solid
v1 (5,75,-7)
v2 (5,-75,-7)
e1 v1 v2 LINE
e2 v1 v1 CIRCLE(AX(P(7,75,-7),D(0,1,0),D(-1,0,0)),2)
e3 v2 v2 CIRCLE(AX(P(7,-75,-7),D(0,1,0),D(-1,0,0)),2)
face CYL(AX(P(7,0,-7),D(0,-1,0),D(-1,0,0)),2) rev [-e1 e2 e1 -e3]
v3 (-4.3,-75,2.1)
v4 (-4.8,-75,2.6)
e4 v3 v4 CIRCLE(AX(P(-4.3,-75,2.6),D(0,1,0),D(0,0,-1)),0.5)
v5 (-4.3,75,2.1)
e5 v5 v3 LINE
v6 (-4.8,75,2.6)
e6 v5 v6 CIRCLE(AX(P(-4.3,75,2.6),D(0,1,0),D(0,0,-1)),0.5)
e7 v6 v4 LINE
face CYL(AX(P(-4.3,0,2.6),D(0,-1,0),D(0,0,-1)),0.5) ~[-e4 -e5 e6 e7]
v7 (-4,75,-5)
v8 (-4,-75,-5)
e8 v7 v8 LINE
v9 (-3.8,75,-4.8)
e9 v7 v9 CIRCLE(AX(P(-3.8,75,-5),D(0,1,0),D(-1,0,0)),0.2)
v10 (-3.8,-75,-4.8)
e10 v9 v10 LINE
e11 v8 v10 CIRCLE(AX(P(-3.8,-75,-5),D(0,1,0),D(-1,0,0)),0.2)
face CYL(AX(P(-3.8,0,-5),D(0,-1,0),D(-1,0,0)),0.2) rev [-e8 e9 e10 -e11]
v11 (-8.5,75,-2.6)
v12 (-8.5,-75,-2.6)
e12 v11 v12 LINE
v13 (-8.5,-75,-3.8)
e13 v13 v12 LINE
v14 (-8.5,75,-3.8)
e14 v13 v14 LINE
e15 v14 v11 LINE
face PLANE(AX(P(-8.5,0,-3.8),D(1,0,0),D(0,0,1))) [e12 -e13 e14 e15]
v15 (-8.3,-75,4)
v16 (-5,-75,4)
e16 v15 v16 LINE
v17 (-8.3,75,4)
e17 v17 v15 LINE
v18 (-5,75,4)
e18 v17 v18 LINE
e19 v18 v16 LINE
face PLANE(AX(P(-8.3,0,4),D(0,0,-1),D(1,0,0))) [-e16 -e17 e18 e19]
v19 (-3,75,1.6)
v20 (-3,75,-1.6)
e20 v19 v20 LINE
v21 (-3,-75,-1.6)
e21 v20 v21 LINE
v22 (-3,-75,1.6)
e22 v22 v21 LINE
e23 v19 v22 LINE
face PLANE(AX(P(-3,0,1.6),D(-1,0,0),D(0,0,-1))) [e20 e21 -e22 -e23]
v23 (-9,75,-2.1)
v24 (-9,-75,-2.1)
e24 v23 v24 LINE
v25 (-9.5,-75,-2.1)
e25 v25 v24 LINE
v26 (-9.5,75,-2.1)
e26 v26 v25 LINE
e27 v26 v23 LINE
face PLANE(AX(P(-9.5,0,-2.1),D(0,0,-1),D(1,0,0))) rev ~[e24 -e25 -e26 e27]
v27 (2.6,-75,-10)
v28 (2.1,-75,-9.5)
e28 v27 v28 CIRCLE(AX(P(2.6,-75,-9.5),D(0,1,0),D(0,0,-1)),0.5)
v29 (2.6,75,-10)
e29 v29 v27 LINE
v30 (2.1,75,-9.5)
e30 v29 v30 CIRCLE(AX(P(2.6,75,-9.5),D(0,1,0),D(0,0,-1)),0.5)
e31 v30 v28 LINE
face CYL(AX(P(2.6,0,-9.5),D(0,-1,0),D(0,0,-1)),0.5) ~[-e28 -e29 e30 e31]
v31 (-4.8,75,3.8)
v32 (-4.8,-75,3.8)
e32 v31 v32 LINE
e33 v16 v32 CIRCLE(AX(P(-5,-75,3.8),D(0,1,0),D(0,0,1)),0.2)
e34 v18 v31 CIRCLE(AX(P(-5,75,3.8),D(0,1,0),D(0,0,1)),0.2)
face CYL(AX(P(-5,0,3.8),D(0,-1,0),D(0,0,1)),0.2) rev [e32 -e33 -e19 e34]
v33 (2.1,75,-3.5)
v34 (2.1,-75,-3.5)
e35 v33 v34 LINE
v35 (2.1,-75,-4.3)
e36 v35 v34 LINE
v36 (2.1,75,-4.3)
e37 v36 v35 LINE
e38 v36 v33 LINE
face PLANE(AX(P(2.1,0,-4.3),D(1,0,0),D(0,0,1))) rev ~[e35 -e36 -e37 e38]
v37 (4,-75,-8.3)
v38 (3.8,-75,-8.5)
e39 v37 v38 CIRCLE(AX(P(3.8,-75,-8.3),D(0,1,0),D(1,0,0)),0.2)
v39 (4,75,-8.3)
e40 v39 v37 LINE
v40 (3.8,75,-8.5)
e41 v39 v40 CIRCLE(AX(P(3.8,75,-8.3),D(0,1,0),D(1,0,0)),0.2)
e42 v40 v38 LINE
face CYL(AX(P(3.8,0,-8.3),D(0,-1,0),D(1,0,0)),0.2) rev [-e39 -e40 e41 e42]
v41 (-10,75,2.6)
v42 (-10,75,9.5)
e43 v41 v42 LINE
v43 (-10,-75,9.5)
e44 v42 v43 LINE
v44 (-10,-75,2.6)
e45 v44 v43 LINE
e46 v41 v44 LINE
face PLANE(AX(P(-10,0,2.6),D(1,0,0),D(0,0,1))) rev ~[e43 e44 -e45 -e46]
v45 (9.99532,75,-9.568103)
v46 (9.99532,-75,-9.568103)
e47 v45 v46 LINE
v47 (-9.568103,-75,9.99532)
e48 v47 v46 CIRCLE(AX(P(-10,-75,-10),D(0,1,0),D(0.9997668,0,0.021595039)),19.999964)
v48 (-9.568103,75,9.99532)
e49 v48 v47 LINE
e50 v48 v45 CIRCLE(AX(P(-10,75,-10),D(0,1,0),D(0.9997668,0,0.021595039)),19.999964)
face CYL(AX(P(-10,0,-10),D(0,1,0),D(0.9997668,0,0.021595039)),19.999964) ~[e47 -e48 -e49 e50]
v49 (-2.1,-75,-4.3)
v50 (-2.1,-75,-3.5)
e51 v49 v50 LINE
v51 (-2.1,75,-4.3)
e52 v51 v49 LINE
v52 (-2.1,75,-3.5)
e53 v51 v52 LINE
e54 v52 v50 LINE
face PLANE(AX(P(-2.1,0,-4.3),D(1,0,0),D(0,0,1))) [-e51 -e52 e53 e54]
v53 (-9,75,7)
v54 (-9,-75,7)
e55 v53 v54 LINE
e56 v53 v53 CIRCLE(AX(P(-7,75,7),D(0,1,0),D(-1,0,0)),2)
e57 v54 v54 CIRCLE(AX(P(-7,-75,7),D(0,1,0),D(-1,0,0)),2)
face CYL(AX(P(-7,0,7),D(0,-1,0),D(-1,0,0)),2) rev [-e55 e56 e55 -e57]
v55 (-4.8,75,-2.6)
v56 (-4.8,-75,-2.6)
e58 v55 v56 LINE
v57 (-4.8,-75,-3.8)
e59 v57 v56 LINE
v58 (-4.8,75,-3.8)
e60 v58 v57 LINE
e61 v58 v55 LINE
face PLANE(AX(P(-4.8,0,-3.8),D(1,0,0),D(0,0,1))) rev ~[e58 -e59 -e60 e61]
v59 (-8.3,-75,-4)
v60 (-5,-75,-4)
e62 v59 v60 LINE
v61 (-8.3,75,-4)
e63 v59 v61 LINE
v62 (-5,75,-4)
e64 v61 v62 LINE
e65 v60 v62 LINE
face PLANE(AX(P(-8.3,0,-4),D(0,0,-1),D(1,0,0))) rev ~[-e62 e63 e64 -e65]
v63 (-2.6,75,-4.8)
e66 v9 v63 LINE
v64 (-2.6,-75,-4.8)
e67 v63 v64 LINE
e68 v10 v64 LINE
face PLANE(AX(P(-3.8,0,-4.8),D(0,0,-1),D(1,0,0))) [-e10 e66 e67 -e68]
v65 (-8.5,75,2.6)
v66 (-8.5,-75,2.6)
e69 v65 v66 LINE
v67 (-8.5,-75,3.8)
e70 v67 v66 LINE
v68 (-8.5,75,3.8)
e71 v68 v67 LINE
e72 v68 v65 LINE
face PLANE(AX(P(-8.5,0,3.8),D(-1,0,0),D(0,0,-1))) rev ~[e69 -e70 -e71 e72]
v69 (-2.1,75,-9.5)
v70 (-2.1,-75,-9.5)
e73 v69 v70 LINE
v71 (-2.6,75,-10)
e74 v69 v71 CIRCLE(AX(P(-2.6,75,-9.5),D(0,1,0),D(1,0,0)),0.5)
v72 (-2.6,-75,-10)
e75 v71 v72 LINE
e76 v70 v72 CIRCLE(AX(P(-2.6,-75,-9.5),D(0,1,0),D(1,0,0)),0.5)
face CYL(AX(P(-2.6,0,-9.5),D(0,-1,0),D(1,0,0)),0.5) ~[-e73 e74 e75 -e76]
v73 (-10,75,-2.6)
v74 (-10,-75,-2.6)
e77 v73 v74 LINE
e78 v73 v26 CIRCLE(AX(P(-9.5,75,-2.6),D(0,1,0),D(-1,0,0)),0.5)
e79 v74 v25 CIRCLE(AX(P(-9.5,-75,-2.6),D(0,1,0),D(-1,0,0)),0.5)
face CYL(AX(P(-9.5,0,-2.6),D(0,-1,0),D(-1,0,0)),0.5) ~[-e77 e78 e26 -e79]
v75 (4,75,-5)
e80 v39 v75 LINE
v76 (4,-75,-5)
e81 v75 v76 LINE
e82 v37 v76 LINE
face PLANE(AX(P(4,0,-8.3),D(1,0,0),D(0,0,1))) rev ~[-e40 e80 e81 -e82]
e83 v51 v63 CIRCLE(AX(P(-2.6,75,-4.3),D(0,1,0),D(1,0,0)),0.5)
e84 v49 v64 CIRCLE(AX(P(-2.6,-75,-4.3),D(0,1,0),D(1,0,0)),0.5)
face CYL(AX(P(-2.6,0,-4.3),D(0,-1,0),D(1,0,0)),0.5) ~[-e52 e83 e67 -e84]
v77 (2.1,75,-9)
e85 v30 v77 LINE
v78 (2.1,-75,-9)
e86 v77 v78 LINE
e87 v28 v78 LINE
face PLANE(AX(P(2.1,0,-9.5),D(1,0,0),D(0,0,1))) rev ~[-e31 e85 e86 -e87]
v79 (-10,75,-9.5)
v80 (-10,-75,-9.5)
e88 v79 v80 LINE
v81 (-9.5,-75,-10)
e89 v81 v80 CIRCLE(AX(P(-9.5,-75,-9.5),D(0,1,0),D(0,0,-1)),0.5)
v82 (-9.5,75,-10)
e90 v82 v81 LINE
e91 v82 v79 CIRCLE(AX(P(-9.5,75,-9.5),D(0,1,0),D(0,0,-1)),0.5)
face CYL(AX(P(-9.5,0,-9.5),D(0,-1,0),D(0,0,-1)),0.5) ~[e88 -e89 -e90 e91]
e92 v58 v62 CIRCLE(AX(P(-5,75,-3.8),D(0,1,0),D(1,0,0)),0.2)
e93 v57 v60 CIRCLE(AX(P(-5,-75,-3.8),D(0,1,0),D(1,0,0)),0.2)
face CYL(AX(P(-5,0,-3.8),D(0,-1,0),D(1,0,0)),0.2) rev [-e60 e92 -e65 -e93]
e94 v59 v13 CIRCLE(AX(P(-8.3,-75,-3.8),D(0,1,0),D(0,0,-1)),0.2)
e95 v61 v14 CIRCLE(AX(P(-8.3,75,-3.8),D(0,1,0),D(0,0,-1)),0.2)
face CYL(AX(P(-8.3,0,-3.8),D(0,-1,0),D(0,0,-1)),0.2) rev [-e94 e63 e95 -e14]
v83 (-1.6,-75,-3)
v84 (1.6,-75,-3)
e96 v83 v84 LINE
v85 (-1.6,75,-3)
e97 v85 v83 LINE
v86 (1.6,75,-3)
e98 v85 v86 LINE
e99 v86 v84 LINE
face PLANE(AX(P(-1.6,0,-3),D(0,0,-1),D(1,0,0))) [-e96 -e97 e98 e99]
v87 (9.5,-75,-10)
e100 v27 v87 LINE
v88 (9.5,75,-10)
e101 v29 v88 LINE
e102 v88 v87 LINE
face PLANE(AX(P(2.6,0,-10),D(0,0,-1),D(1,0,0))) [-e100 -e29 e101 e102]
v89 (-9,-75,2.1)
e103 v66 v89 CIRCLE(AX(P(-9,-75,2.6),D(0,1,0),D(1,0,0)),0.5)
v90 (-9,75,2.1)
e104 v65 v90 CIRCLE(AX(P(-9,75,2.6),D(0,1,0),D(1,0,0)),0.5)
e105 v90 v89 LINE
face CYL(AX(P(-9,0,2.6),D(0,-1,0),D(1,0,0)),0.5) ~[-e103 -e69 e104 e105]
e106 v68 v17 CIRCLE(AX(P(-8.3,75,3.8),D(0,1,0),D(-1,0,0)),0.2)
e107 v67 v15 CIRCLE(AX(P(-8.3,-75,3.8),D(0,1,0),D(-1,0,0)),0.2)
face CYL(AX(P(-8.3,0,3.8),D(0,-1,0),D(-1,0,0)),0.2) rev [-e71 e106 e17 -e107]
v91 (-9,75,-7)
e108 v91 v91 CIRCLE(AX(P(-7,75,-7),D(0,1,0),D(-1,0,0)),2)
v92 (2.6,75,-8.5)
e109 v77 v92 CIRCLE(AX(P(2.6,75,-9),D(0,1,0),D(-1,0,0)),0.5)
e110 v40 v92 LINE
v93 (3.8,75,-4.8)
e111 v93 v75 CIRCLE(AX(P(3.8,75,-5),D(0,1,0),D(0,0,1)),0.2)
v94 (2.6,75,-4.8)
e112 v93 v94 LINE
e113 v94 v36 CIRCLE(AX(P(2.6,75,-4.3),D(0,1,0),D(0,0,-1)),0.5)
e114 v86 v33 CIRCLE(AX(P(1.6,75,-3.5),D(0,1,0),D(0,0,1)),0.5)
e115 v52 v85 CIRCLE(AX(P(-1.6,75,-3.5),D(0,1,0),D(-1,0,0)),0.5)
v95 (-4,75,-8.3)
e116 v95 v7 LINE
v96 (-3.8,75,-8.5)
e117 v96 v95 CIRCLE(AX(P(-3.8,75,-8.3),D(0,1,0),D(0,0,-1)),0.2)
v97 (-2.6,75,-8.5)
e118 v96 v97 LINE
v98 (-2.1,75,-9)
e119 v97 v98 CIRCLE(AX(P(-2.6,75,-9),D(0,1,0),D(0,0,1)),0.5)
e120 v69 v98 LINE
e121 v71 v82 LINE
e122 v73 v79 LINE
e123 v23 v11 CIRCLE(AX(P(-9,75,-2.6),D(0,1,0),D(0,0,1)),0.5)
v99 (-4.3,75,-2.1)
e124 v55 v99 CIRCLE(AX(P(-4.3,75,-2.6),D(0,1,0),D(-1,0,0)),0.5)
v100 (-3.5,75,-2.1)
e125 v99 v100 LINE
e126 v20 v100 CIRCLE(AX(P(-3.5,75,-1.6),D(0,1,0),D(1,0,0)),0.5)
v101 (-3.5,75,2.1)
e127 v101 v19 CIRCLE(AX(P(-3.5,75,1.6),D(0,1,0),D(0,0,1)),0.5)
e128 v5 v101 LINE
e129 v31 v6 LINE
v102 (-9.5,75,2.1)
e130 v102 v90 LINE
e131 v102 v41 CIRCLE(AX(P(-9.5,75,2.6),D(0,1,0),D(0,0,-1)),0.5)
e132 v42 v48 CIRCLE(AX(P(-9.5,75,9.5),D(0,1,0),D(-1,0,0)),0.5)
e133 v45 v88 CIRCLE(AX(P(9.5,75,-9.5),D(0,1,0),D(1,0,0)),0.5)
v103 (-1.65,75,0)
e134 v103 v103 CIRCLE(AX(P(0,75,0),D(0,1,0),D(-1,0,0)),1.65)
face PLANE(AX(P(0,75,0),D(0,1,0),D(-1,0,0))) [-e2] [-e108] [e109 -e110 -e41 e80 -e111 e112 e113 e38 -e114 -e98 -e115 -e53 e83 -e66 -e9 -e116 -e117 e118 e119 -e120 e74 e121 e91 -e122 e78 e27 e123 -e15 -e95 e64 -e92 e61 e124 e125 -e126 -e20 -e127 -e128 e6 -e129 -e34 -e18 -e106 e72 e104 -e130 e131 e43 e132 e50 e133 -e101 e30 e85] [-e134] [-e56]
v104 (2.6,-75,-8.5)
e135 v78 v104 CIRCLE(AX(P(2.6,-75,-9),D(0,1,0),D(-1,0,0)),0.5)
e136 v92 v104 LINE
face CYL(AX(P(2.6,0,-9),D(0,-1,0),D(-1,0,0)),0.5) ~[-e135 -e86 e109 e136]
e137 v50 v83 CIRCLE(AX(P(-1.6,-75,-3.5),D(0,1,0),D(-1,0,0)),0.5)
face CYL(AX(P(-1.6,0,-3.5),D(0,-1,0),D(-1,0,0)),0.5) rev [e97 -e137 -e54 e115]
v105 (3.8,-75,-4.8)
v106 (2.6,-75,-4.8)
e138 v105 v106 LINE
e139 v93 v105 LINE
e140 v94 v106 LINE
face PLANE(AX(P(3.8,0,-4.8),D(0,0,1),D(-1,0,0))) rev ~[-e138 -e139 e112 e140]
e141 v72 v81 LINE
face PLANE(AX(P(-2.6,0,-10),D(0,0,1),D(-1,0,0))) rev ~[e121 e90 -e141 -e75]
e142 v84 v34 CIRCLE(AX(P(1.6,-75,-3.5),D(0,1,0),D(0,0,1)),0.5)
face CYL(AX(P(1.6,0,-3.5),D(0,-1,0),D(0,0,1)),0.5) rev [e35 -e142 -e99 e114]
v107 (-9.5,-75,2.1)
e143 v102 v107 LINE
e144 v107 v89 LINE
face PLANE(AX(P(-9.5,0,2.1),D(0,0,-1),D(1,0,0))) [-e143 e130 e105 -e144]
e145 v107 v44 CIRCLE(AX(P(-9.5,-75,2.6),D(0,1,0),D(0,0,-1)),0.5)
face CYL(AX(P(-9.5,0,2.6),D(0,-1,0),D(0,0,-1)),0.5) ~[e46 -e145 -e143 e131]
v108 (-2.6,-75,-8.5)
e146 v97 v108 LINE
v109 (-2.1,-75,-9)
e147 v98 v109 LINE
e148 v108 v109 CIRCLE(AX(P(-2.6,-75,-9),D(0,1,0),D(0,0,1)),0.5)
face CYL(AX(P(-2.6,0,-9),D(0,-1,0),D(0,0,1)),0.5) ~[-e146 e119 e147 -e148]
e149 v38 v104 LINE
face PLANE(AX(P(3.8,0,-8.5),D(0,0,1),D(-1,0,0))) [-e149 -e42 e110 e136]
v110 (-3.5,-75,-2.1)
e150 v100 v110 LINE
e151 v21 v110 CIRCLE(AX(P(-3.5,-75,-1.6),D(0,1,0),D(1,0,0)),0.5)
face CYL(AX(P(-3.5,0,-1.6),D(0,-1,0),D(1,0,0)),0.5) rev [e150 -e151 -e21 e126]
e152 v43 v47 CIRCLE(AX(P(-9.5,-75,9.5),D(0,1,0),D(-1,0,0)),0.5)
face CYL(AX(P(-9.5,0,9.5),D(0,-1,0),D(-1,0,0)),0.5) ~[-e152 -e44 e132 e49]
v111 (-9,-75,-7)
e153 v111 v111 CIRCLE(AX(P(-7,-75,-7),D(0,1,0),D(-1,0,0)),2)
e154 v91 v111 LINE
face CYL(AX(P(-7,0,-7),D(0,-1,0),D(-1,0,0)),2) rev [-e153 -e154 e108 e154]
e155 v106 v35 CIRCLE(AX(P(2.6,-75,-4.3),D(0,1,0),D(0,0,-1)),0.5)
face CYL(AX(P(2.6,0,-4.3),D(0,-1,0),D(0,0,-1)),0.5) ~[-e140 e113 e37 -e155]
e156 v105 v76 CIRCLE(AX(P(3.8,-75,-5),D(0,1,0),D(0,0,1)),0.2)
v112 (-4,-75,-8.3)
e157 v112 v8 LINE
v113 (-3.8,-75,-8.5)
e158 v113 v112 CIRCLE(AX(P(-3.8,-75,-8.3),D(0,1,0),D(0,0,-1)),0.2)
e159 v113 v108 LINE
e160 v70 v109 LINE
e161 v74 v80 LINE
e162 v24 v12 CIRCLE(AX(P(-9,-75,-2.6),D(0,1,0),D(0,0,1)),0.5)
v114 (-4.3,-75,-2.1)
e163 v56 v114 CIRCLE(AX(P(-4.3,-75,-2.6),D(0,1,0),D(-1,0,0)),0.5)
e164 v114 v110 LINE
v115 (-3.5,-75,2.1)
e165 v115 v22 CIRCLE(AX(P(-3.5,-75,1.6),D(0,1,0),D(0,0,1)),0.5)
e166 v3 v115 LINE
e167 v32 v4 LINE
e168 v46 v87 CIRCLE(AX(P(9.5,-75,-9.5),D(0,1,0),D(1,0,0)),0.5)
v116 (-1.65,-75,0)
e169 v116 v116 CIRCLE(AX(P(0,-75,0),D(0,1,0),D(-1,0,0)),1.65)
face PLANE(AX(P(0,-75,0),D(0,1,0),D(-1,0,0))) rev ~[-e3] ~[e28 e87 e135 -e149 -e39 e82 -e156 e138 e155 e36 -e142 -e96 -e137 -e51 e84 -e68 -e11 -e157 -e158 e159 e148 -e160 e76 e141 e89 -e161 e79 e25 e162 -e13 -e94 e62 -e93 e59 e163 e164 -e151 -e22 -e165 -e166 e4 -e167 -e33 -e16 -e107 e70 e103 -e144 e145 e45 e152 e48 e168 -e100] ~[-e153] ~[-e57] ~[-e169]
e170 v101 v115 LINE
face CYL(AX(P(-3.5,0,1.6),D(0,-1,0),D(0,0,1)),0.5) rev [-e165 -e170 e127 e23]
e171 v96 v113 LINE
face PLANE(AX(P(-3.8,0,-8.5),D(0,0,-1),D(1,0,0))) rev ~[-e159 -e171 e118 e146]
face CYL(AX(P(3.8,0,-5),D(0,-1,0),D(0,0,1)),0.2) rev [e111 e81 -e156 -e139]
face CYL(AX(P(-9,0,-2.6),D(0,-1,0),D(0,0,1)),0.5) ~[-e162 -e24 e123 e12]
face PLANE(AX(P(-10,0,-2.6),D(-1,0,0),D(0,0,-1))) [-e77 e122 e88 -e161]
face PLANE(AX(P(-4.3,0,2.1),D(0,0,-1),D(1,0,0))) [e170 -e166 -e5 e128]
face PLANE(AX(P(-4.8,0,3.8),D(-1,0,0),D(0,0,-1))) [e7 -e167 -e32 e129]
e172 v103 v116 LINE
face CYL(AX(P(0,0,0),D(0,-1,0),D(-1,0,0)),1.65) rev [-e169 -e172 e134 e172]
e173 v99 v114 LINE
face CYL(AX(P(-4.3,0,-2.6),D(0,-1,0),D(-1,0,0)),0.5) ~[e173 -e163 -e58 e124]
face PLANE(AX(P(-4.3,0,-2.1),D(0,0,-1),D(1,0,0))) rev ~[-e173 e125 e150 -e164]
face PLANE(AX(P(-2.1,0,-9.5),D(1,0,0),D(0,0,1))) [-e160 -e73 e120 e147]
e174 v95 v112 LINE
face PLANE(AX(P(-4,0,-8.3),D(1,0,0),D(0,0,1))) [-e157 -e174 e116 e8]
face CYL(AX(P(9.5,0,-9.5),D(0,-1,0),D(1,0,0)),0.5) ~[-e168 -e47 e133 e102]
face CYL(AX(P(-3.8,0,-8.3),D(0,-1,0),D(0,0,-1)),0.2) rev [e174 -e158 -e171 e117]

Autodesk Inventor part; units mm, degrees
ref_plane "YZ Plane" through (0, 0, 0) normal (1, 0, 0) x (0, 1, 0)
ref_plane "XZ Plane" through (0, 0, 0) normal (0, 1, 0) x (-1, 0, 0)
ref_plane "XY Plane" through (0, 0, 0) normal (0, 0, 1) x (1, 0, 0)
sketch "スケッチ" plane through (0, 0, 0) normal (0, 1, 0) x (-1, 0, 0)
  line L0 (8.5, -3.8) -> (8.5, -2.6)
  line L1 (4, -8.3) -> (4, -5)
  circle A0 centre (7, -7) radius 2
  line L2 (10, -2.6) -> (10, -9.5)
  line L3 (2.6, -10) -> (9.5, -10)
  line L4 (2.1, -9.5) -> (2.1, -9)
  line L5 (8.5, -2.1) -> (8.5, -4)
  line L6 (3.8, -4.8) -> (2.6, -4.8)
  line L7 (4.8, -3.8) -> (4.8, -2.6)
  arc A1 (2.1, -4.3) -> (2.6, -4.8) centre (2.6, -4.3) ccw
  arc A2 (2.6, -8.5) -> (2.1, -9) centre (2.6, -9) ccw
  arc A3 (3.8, -8.5) -> (4, -8.3) centre (3.8, -8.3) ccw
  arc A4 (4, -5) -> (3.8, -4.8) centre (3.8, -5) ccw
  arc A5 (2.1, -3.5) -> (1.6, -3) centre (1.6, -3.5) ccw
  arc A6 (2.1, -9.5) -> (2.6, -10) centre (2.6, -9.5) ccw
  arc A7 (9.5, -10) -> (10, -9.5) centre (9.5, -9.5) ccw
  arc A8 (10, -2.6) -> (9.5, -2.1) centre (9.5, -2.6) ccw
  arc A9 (9, -2.1) -> (8.5, -2.6) centre (9, -2.6) ccw
  arc A10 (8.3, -4) -> (8.5, -3.8) centre (8.3, -3.8) ccw
  arc A11 (4.8, -3.8) -> (5, -4) centre (5, -3.8) ccw
  line L8 (4.3, -2.1) -> (3.5, -2.1)
  arc A12 (4.8, -2.6) -> (4.3, -2.1) centre (4.3, -2.6) ccw
  arc A13 (3, -1.6) -> (3.5, -2.1) centre (3.5, -1.6) ccw
  line L9 (2.1, -4.3) -> (2.1, -3.5)
  line L10 (3.8, -8.5) -> (2.6, -8.5)
  line L11 (9.5, -2.1) -> (9, -2.1)
  line L12 (8.3, -4) -> (5, -4)
  circle A14 centre (0, 0) radius 1.65
  arc A15 (8.5, 2.6) -> (9, 2.1) centre (9, 2.6) ccw
  line L13 (8.5, 3.8) -> (8.5, 2.6)
  arc A16 (8.5, 3.8) -> (8.3, 4) centre (8.3, 3.8) ccw
  line L14 (8.3, 4) -> (5, 4)
  line L15 (10, 2.6) -> (10, 9.5)
  arc A17 (10, 9.5) -> (9.5, 10) centre (9.5, 9.5) ccw
  circle A18 centre (7, 7) radius 2
  line L16 (4, 8.3) -> (4, 5)
  line L17 (2.6, 10) -> (9.5, 10)
  line L18 (9.5, 2.1) -> (9, 2.1)
  arc A19 (9.5, 2.1) -> (10, 2.6) centre (9.5, 2.6) ccw
  line L19 (3.8, 8.5) -> (2.6, 8.5)
  line L20 (4.8, 3.8) -> (4.8, 2.6)
  arc A20 (4.3, 2.1) -> (4.8, 2.6) centre (4.3, 2.6) ccw
  line L21 (2.1, 8.5) -> (4, 8.5)
  arc A21 (4, 8.3) -> (3.8, 8.5) centre (3.8, 8.3) ccw
  arc A22 (2.1, 9) -> (2.6, 8.5) centre (2.6, 9) ccw
  arc A23 (2.6, 10) -> (2.1, 9.5) centre (2.6, 9.5) ccw
  line L22 (2.1, 9.5) -> (2.1, 9)
  arc A24 (1.6, 3) -> (2.1, 3.5) centre (1.6, 3.5) ccw
  line L23 (3.8, 4.8) -> (2.6, 4.8)
  arc A25 (5, 4) -> (4.8, 3.8) centre (5, 3.8) ccw
  arc A26 (3.8, 4.8) -> (4, 5) centre (3.8, 5) ccw
  line L24 (4.3, 2.1) -> (3.5, 2.1)
  arc A27 (2.6, 4.8) -> (2.1, 4.3) centre (2.6, 4.3) ccw
  line L25 (2.1, 4.3) -> (2.1, 3.5)
  arc A28 (3.5, 2.1) -> (3, 1.6) centre (3.5, 1.6) ccw
  arc A29 (-2.6, 8.5) -> (-2.1, 9) centre (-2.6, 9) ccw
  line L26 (-3.8, 8.5) -> (-2.6, 8.5)
  arc A30 (-3.8, 8.5) -> (-4, 8.3) centre (-3.8, 8.3) ccw
  line L27 (-4, 8.3) -> (-4, 5)
  line L28 (-2.6, 10) -> (-9.5, 10)
  arc A31 (-9.5, 10) -> (-10, 9.5) centre (-9.5, 9.5) ccw
  circle A32 centre (-7, 7) radius 2
  line L29 (-8.3, 4) -> (-5, 4)
  line L30 (-10, 2.6) -> (-10, 9.5)
  line L31 (-2.1, 9.5) -> (-2.1, 9)
  arc A33 (-2.1, 9.5) -> (-2.6, 10) centre (-2.6, 9.5) ccw
  line L32 (-8.5, 3.8) -> (-8.5, 2.6)
  line L33 (-3.8, 4.8) -> (-2.6, 4.8)
  arc A34 (-2.1, 4.3) -> (-2.6, 4.8) centre (-2.6, 4.3) ccw
  line L34 (-8.5, 2.1) -> (-8.5, 4)
  arc A35 (-8.3, 4) -> (-8.5, 3.8) centre (-8.3, 3.8) ccw
  arc A36 (-9, 2.1) -> (-8.5, 2.6) centre (-9, 2.6) ccw
  arc A37 (-10, 2.6) -> (-9.5, 2.1) centre (-9.5, 2.6) ccw
  line L35 (-9.5, 2.1) -> (-9, 2.1)
  arc A38 (-3, 1.6) -> (-3.5, 2.1) centre (-3.5, 1.6) ccw
  line L36 (-4.8, 3.8) -> (-4.8, 2.6)
  arc A39 (-4, 5) -> (-3.8, 4.8) centre (-3.8, 5) ccw
  arc A40 (-4.8, 3.8) -> (-5, 4) centre (-5, 3.8) ccw
  line L37 (-2.1, 4.3) -> (-2.1, 3.5)
  arc A41 (-4.8, 2.6) -> (-4.3, 2.1) centre (-4.3, 2.6) ccw
  line L38 (-4.3, 2.1) -> (-3.5, 2.1)
  arc A42 (-2.1, 3.5) -> (-1.6, 3) centre (-1.6, 3.5) ccw
  arc A43 (-8.5, -2.6) -> (-9, -2.1) centre (-9, -2.6) ccw
  line L39 (-8.5, -3.8) -> (-8.5, -2.6)
  arc A44 (-8.5, -3.8) -> (-8.3, -4) centre (-8.3, -3.8) ccw
  line L40 (-8.3, -4) -> (-5, -4)
  line L41 (-10, -2.6) -> (-10, -9.5)
  arc A45 (-10, -9.5) -> (-9.5, -10) centre (-9.5, -9.5) ccw
  circle A46 centre (-7, -7) radius 2
  line L42 (-4, -8.3) -> (-4, -5)
  line L43 (-2.6, -10) -> (-9.5, -10)
  line L44 (-9.5, -2.1) -> (-9, -2.1)
  arc A47 (-9.5, -2.1) -> (-10, -2.6) centre (-9.5, -2.6) ccw
  line L45 (-3.8, -8.5) -> (-2.6, -8.5)
  line L46 (-4.8, -3.8) -> (-4.8, -2.6)
  arc A48 (-4.3, -2.1) -> (-4.8, -2.6) centre (-4.3, -2.6) ccw
  line L47 (-2.1, -8.5) -> (-4, -8.5)
  arc A49 (-4, -8.3) -> (-3.8, -8.5) centre (-3.8, -8.3) ccw
  arc A50 (-2.1, -9) -> (-2.6, -8.5) centre (-2.6, -9) ccw
  arc A51 (-2.6, -10) -> (-2.1, -9.5) centre (-2.6, -9.5) ccw
  line L48 (-2.1, -9.5) -> (-2.1, -9)
  arc A52 (-1.6, -3) -> (-2.1, -3.5) centre (-1.6, -3.5) ccw
  line L49 (-3.8, -4.8) -> (-2.6, -4.8)
  arc A53 (-5, -4) -> (-4.8, -3.8) centre (-5, -3.8) ccw
  arc A54 (-3.8, -4.8) -> (-4, -5) centre (-3.8, -5) ccw
  line L50 (-4.3, -2.1) -> (-3.5, -2.1)
  arc A55 (-2.6, -4.8) -> (-2.1, -4.3) centre (-2.6, -4.3) ccw
  line L51 (-2.1, -4.3) -> (-2.1, -3.5)
  arc A56 (-3.5, -2.1) -> (-3, -1.6) centre (-3.5, -1.6) ccw
  line L52 (1.6, -3) -> (-1.6, -3)
  line L53 (-3, -1.6) -> (-3, 1.6)
  line L54 (-1.6, 3) -> (1.6, 3)
  line L55 (3, 1.6) -> (3, -1.6)
  point P0 (2.1, -10)
  point P1 (10, 2.1)
  point P2 (-2.1, 10)
  point P3 (-10, -2.1)
  dimension "d12" = 4
  dimension "d14" = 3.7
  dimension "d16" = 0.5
  dimension "d17" = 0.5
  dimension "d18" = 0.2
  dimension "d19" = 0.5
  dimension "d20" = 0.5
  dimension "d24" = 0.5
  dimension "d25" = 0.2
  dimension "d28" = 0.5
  dimension "d31" = 1.5
  dimension "d36" = 3.7
  dimension "d37" = 1.5
  dimension "d58" = 3.3
  dimension "d65" = 10
  dimension "d67" = 2.1
  dimension "d68" = 2.1
  dimension "d69" = 1.9
  dimension "d70" = 7
  dimension "d72" = 2.1
  dimension "d73" = 2.1
  dimension "d74" = 1.9
  dimension "d75" = 7
  dimension "d76" = 10
  dimension "d80" = 360
  dimension "d82" = 3
extrude "ボディ" add sketch "スケッチ" along normal mid plane 150
sketch "スケッチ4" plane through (0, 0, 0) normal (0, 1, 0) x (-1, 0, 0)
  line L0 (0, 0) -> (10, 0)
ref_plane "作業平面4" through (0, 0, 0) normal (0, 0, -1) x (-1, 0, 0)
sketch "スケッチ5" plane through (0, 0, 0) normal (0, 0, -1) x (-1, 0, 0)
  line L0 (-2, 0) -> (12, 0)
  line L1 (-2, 150) -> (12, 150)
sketch "スケッチ9" plane through (2.6, 0, -10) normal (0, -1, 0) x (1, 0, 0)
  circle A0 centre (4.4, 3) radius 2 projected
  circle A1 centre (4.4, 17) radius 2 projected
  circle A2 centre (-9.6, 17) radius 2 projected
  circle A3 centre (-9.6, 3) radius 2 projected
  circle A4 centre (-2.6, 10) radius 1.65 projected
  arc A5 (-5.2, 5.2) -> (-4.7, 5.7) centre (-5.2, 5.7) ccw projected
  line L0 (-4.7, 5.7) -> (-4.7, 6.5) projected
  arc A6 (-4.2, 7) -> (-4.7, 6.5) centre (-4.2, 6.5) ccw projected
  line L1 (-4.2, 7) -> (-1, 7) projected
  arc A7 (-0.5, 6.5) -> (-1, 7) centre (-1, 6.5) ccw projected
  line L2 (-0.5, 6.5) -> (-0.5, 5.7) projected
  arc A8 (-0.5, 5.7) -> (0, 5.2) centre (0, 5.7) ccw projected
  line L3 (0, 5.2) -> (1.2, 5.2) projected
  arc A9 (1.4, 5) -> (1.2, 5.2) centre (1.2, 5) ccw projected
  line L4 (1.4, 5) -> (1.4, 1.7) projected
  arc A10 (1.2, 1.5) -> (1.4, 1.7) centre (1.2, 1.7) ccw projected
  line L5 (1.2, 1.5) -> (0, 1.5) projected
  arc A11 (0, 1.5) -> (-0.5, 1) centre (0, 1) ccw projected
  line L6 (-0.5, 1) -> (-0.5, 0.5) projected
  arc A12 (-0.5, 0.5) -> (0, 0) centre (0, 0.5) ccw projected
  line L7 (0, 0) -> (6.9, 0) projected
  arc A13 (6.9, 0) -> (7.4, 0.5) centre (6.9, 0.5) ccw projected
  line L8 (7.4, 0.5) -> (7.4, 7.4) projected
  arc A14 (7.4, 7.4) -> (6.9, 7.9) centre (6.9, 7.4) ccw projected
  line L9 (6.9, 7.9) -> (6.4, 7.9) projected
  arc A15 (6.4, 7.9) -> (5.9, 7.4) centre (6.4, 7.4) ccw projected
  line L10 (5.9, 7.4) -> (5.9, 6.2) projected
  arc A16 (5.7, 6) -> (5.9, 6.2) centre (5.7, 6.2) ccw projected
  line L11 (5.7, 6) -> (2.4, 6) projected
  arc A17 (2.2, 6.2) -> (2.4, 6) centre (2.4, 6.2) ccw projected
  line L12 (2.2, 6.2) -> (2.2, 7.4) projected
  arc A18 (2.2, 7.4) -> (1.7, 7.9) centre (1.7, 7.4) ccw projected
  line L13 (1.7, 7.9) -> (0.9, 7.9) projected
  arc A19 (0.4, 8.4) -> (0.9, 7.9) centre (0.9, 8.4) ccw projected
  line L14 (0.4, 8.4) -> (0.4, 11.6) projected
  arc A20 (0.9, 12.1) -> (0.4, 11.6) centre (0.9, 11.6) ccw projected
  line L15 (0.9, 12.1) -> (1.7, 12.1) projected
  arc A21 (1.7, 12.1) -> (2.2, 12.6) centre (1.7, 12.6) ccw projected
  line L16 (2.2, 12.6) -> (2.2, 13.8) projected
  arc A22 (2.4, 14) -> (2.2, 13.8) centre (2.4, 13.8) ccw projected
  line L17 (2.4, 14) -> (5.7, 14) projected
  arc A23 (5.9, 13.8) -> (5.7, 14) centre (5.7, 13.8) ccw projected
  line L18 (5.9, 13.8) -> (5.9, 12.6) projected
  arc A24 (5.9, 12.6) -> (6.4, 12.1) centre (6.4, 12.6) ccw projected
  line L19 (6.4, 12.1) -> (6.9, 12.1) projected
  arc A25 (6.9, 12.1) -> (7.4, 12.6) centre (6.9, 12.6) ccw projected
  line L20 (7.4, 12.6) -> (7.4, 19.5) projected
  arc A26 (7.4, 19.5) -> (6.9, 20) centre (6.9, 19.5) ccw projected
  line L21 (6.9, 20) -> (0, 20) projected
  arc A27 (0, 20) -> (-0.5, 19.5) centre (0, 19.5) ccw projected
  line L22 (-0.5, 19.5) -> (-0.5, 19) projected
  arc A28 (-0.5, 19) -> (0, 18.5) centre (0, 19) ccw projected
  line L23 (0, 18.5) -> (1.2, 18.5) projected
  arc A29 (1.4, 18.3) -> (1.2, 18.5) centre (1.2, 18.3) ccw projected
  line L24 (1.4, 18.3) -> (1.4, 15) projected
  arc A30 (1.2, 14.8) -> (1.4, 15) centre (1.2, 15) ccw projected
  line L25 (1.2, 14.8) -> (0, 14.8) projected
  arc A31 (0, 14.8) -> (-0.5, 14.3) centre (0, 14.3) ccw projected
  line L26 (-0.5, 14.3) -> (-0.5, 13.5) projected
  arc A32 (-1, 13) -> (-0.5, 13.5) centre (-1, 13.5) ccw projected
  line L27 (-1, 13) -> (-4.2, 13) projected
  arc A33 (-4.7, 13.5) -> (-4.2, 13) centre (-4.2, 13.5) ccw projected
  line L28 (-4.7, 13.5) -> (-4.7, 14.3) projected
  arc A34 (-4.7, 14.3) -> (-5.2, 14.8) centre (-5.2, 14.3) ccw projected
  line L29 (-5.2, 14.8) -> (-6.4, 14.8) projected
  arc A35 (-6.6, 15) -> (-6.4, 14.8) centre (-6.4, 15) ccw projected
  line L30 (-6.6, 15) -> (-6.6, 18.3) projected
  arc A36 (-6.4, 18.5) -> (-6.6, 18.3) centre (-6.4, 18.3) ccw projected
  line L31 (-6.4, 18.5) -> (-5.2, 18.5) projected
  arc A37 (-5.2, 18.5) -> (-4.7, 19) centre (-5.2, 19) ccw projected
  line L32 (-4.7, 19) -> (-4.7, 19.5) projected
  arc A38 (-4.7, 19.5) -> (-5.2, 20) centre (-5.2, 19.5) ccw projected
  line L33 (-5.2, 20) -> (-12.1, 20) projected
  arc A39 (-12.1, 20) -> (-12.6, 19.5) centre (-12.1, 19.5) ccw projected
  line L34 (-12.6, 19.5) -> (-12.6, 12.6) projected
  arc A40 (-12.6, 12.6) -> (-12.1, 12.1) centre (-12.1, 12.6) ccw projected
  line L35 (-12.1, 12.1) -> (-11.6, 12.1) projected
  arc A41 (-11.6, 12.1) -> (-11.1, 12.6) centre (-11.6, 12.6) ccw projected
  line L36 (-11.1, 12.6) -> (-11.1, 13.8) projected
  arc A42 (-10.9, 14) -> (-11.1, 13.8) centre (-10.9, 13.8) ccw projected
  line L37 (-10.9, 14) -> (-7.6, 14) projected
  arc A43 (-7.4, 13.8) -> (-7.6, 14) centre (-7.6, 13.8) ccw projected
  line L38 (-7.4, 13.8) -> (-7.4, 12.6) projected
  arc A44 (-7.4, 12.6) -> (-6.9, 12.1) centre (-6.9, 12.6) ccw projected
  line L39 (-6.9, 12.1) -> (-6.1, 12.1) projected
  arc A45 (-5.6, 11.6) -> (-6.1, 12.1) centre (-6.1, 11.6) ccw projected
  line L40 (-5.6, 11.6) -> (-5.6, 8.4) projected
  arc A46 (-6.1, 7.9) -> (-5.6, 8.4) centre (-6.1, 8.4) ccw projected
  line L41 (-6.1, 7.9) -> (-6.9, 7.9) projected
  arc A47 (-6.9, 7.9) -> (-7.4, 7.4) centre (-6.9, 7.4) ccw projected
  line L42 (-7.4, 7.4) -> (-7.4, 6.2) projected
  arc A48 (-7.6, 6) -> (-7.4, 6.2) centre (-7.6, 6.2) ccw projected
  line L43 (-7.6, 6) -> (-10.9, 6) projected
  arc A49 (-11.1, 6.2) -> (-10.9, 6) centre (-10.9, 6.2) ccw projected
  line L44 (-11.1, 6.2) -> (-11.1, 7.4) projected
  arc A50 (-11.1, 7.4) -> (-11.6, 7.9) centre (-11.6, 7.4) ccw projected
  line L45 (-11.6, 7.9) -> (-12.1, 7.9) projected
  arc A51 (-12.1, 7.9) -> (-12.6, 7.4) centre (-12.1, 7.4) ccw projected
  line L46 (-12.6, 7.4) -> (-12.6, 0.5) projected
  arc A52 (-12.6, 0.5) -> (-12.1, 0) centre (-12.1, 0.5) ccw projected
  line L47 (-12.1, 0) -> (-5.2, 0) projected
  arc A53 (-5.2, 0) -> (-4.7, 0.5) centre (-5.2, 0.5) ccw projected
  line L48 (-4.7, 0.5) -> (-4.7, 1) projected
  arc A54 (-4.7, 1) -> (-5.2, 1.5) centre (-5.2, 1) ccw projected
  line L49 (-5.2, 1.5) -> (-6.4, 1.5) projected
  arc A55 (-6.6, 1.7) -> (-6.4, 1.5) centre (-6.4, 1.7) ccw projected
  line L50 (-6.6, 1.7) -> (-6.6, 5) projected
  arc A56 (-6.4, 5.2) -> (-6.6, 5) centre (-6.4, 5) ccw projected
  line L51 (-6.4, 5.2) -> (-5.2, 5.2) projected
  line L52 (6.9, 20) -> (0, 20) projected
  line L53 (-5.2, 20) -> (0, 20)
  line L54 (7.4, 12.6) -> (7.4, 19.5) projected
  line L55 (7.4, 12.6) -> (7.4, 7.4)
extrude "押し出し7" add sketch "スケッチ9" along normal mid plane 150 contours A1 | A14 L9 A15 L10 A16 L11 A17 L12 A18 L13 A19 L14 A20 L15 A21 L16 A22 L17 A23 L18 A24 L19 A25 L55 | A27 L22 A28 L23 A29 L24 A30 L25 A31 L26 A32 L27 A33 L28 A34 L29 A35 L30 A36 L31 A37 L32 A38 L53
sketch "スケッチ10" plane through (-9.5, 0, 10) normal (0, -1, 0) x (1, 0, 0)
  line L0 (-0.5, -12.6) -> (-0.5, -19.5) construction
  line L1 (0, -20) -> (6.9, -20) construction
  arc A0 (-0.5, -19.5) -> (0, -20) centre (0, -19.5) ccw construction
  line L2 (-0.5, -19.5) -> (-0.5, -20) construction
  line L3 (-0.5, -20) -> (0, -20) construction
  arc A1 (0, 0) -> (-0.5, -0.5) centre (0, -0.5) ccw projected
  arc A2 (19.4953, -19.5681) -> (-0.0681, -0.0047) centre (-0.5, -20) ccw
  line L4 (19, 0) -> (0, 0) projected
  arc A3 (19.5, -0.5) -> (19, 0) centre (19, -0.5) ccw projected
  line L5 (19.5, -19.5) -> (19.5, -0.5) projected
  arc A4 (19, -20) -> (19.5, -19.5) centre (19, -19.5) ccw projected
  point P0 (9.5, -10)
  dimension "d101" = 20
extrude "押し出し8" cut sketch "スケッチ10" along normal through all both and the other way through all
equation "\"d99\" = Length"
equation "\"Length\" = 150"
equation "\"G_OFFSET_START\" = 0"
equation "\"G_OFFSET_END\" = 0"
equation "\"G_L\" = 150"
properties part number "r150" material "アルミニウム 6061"
